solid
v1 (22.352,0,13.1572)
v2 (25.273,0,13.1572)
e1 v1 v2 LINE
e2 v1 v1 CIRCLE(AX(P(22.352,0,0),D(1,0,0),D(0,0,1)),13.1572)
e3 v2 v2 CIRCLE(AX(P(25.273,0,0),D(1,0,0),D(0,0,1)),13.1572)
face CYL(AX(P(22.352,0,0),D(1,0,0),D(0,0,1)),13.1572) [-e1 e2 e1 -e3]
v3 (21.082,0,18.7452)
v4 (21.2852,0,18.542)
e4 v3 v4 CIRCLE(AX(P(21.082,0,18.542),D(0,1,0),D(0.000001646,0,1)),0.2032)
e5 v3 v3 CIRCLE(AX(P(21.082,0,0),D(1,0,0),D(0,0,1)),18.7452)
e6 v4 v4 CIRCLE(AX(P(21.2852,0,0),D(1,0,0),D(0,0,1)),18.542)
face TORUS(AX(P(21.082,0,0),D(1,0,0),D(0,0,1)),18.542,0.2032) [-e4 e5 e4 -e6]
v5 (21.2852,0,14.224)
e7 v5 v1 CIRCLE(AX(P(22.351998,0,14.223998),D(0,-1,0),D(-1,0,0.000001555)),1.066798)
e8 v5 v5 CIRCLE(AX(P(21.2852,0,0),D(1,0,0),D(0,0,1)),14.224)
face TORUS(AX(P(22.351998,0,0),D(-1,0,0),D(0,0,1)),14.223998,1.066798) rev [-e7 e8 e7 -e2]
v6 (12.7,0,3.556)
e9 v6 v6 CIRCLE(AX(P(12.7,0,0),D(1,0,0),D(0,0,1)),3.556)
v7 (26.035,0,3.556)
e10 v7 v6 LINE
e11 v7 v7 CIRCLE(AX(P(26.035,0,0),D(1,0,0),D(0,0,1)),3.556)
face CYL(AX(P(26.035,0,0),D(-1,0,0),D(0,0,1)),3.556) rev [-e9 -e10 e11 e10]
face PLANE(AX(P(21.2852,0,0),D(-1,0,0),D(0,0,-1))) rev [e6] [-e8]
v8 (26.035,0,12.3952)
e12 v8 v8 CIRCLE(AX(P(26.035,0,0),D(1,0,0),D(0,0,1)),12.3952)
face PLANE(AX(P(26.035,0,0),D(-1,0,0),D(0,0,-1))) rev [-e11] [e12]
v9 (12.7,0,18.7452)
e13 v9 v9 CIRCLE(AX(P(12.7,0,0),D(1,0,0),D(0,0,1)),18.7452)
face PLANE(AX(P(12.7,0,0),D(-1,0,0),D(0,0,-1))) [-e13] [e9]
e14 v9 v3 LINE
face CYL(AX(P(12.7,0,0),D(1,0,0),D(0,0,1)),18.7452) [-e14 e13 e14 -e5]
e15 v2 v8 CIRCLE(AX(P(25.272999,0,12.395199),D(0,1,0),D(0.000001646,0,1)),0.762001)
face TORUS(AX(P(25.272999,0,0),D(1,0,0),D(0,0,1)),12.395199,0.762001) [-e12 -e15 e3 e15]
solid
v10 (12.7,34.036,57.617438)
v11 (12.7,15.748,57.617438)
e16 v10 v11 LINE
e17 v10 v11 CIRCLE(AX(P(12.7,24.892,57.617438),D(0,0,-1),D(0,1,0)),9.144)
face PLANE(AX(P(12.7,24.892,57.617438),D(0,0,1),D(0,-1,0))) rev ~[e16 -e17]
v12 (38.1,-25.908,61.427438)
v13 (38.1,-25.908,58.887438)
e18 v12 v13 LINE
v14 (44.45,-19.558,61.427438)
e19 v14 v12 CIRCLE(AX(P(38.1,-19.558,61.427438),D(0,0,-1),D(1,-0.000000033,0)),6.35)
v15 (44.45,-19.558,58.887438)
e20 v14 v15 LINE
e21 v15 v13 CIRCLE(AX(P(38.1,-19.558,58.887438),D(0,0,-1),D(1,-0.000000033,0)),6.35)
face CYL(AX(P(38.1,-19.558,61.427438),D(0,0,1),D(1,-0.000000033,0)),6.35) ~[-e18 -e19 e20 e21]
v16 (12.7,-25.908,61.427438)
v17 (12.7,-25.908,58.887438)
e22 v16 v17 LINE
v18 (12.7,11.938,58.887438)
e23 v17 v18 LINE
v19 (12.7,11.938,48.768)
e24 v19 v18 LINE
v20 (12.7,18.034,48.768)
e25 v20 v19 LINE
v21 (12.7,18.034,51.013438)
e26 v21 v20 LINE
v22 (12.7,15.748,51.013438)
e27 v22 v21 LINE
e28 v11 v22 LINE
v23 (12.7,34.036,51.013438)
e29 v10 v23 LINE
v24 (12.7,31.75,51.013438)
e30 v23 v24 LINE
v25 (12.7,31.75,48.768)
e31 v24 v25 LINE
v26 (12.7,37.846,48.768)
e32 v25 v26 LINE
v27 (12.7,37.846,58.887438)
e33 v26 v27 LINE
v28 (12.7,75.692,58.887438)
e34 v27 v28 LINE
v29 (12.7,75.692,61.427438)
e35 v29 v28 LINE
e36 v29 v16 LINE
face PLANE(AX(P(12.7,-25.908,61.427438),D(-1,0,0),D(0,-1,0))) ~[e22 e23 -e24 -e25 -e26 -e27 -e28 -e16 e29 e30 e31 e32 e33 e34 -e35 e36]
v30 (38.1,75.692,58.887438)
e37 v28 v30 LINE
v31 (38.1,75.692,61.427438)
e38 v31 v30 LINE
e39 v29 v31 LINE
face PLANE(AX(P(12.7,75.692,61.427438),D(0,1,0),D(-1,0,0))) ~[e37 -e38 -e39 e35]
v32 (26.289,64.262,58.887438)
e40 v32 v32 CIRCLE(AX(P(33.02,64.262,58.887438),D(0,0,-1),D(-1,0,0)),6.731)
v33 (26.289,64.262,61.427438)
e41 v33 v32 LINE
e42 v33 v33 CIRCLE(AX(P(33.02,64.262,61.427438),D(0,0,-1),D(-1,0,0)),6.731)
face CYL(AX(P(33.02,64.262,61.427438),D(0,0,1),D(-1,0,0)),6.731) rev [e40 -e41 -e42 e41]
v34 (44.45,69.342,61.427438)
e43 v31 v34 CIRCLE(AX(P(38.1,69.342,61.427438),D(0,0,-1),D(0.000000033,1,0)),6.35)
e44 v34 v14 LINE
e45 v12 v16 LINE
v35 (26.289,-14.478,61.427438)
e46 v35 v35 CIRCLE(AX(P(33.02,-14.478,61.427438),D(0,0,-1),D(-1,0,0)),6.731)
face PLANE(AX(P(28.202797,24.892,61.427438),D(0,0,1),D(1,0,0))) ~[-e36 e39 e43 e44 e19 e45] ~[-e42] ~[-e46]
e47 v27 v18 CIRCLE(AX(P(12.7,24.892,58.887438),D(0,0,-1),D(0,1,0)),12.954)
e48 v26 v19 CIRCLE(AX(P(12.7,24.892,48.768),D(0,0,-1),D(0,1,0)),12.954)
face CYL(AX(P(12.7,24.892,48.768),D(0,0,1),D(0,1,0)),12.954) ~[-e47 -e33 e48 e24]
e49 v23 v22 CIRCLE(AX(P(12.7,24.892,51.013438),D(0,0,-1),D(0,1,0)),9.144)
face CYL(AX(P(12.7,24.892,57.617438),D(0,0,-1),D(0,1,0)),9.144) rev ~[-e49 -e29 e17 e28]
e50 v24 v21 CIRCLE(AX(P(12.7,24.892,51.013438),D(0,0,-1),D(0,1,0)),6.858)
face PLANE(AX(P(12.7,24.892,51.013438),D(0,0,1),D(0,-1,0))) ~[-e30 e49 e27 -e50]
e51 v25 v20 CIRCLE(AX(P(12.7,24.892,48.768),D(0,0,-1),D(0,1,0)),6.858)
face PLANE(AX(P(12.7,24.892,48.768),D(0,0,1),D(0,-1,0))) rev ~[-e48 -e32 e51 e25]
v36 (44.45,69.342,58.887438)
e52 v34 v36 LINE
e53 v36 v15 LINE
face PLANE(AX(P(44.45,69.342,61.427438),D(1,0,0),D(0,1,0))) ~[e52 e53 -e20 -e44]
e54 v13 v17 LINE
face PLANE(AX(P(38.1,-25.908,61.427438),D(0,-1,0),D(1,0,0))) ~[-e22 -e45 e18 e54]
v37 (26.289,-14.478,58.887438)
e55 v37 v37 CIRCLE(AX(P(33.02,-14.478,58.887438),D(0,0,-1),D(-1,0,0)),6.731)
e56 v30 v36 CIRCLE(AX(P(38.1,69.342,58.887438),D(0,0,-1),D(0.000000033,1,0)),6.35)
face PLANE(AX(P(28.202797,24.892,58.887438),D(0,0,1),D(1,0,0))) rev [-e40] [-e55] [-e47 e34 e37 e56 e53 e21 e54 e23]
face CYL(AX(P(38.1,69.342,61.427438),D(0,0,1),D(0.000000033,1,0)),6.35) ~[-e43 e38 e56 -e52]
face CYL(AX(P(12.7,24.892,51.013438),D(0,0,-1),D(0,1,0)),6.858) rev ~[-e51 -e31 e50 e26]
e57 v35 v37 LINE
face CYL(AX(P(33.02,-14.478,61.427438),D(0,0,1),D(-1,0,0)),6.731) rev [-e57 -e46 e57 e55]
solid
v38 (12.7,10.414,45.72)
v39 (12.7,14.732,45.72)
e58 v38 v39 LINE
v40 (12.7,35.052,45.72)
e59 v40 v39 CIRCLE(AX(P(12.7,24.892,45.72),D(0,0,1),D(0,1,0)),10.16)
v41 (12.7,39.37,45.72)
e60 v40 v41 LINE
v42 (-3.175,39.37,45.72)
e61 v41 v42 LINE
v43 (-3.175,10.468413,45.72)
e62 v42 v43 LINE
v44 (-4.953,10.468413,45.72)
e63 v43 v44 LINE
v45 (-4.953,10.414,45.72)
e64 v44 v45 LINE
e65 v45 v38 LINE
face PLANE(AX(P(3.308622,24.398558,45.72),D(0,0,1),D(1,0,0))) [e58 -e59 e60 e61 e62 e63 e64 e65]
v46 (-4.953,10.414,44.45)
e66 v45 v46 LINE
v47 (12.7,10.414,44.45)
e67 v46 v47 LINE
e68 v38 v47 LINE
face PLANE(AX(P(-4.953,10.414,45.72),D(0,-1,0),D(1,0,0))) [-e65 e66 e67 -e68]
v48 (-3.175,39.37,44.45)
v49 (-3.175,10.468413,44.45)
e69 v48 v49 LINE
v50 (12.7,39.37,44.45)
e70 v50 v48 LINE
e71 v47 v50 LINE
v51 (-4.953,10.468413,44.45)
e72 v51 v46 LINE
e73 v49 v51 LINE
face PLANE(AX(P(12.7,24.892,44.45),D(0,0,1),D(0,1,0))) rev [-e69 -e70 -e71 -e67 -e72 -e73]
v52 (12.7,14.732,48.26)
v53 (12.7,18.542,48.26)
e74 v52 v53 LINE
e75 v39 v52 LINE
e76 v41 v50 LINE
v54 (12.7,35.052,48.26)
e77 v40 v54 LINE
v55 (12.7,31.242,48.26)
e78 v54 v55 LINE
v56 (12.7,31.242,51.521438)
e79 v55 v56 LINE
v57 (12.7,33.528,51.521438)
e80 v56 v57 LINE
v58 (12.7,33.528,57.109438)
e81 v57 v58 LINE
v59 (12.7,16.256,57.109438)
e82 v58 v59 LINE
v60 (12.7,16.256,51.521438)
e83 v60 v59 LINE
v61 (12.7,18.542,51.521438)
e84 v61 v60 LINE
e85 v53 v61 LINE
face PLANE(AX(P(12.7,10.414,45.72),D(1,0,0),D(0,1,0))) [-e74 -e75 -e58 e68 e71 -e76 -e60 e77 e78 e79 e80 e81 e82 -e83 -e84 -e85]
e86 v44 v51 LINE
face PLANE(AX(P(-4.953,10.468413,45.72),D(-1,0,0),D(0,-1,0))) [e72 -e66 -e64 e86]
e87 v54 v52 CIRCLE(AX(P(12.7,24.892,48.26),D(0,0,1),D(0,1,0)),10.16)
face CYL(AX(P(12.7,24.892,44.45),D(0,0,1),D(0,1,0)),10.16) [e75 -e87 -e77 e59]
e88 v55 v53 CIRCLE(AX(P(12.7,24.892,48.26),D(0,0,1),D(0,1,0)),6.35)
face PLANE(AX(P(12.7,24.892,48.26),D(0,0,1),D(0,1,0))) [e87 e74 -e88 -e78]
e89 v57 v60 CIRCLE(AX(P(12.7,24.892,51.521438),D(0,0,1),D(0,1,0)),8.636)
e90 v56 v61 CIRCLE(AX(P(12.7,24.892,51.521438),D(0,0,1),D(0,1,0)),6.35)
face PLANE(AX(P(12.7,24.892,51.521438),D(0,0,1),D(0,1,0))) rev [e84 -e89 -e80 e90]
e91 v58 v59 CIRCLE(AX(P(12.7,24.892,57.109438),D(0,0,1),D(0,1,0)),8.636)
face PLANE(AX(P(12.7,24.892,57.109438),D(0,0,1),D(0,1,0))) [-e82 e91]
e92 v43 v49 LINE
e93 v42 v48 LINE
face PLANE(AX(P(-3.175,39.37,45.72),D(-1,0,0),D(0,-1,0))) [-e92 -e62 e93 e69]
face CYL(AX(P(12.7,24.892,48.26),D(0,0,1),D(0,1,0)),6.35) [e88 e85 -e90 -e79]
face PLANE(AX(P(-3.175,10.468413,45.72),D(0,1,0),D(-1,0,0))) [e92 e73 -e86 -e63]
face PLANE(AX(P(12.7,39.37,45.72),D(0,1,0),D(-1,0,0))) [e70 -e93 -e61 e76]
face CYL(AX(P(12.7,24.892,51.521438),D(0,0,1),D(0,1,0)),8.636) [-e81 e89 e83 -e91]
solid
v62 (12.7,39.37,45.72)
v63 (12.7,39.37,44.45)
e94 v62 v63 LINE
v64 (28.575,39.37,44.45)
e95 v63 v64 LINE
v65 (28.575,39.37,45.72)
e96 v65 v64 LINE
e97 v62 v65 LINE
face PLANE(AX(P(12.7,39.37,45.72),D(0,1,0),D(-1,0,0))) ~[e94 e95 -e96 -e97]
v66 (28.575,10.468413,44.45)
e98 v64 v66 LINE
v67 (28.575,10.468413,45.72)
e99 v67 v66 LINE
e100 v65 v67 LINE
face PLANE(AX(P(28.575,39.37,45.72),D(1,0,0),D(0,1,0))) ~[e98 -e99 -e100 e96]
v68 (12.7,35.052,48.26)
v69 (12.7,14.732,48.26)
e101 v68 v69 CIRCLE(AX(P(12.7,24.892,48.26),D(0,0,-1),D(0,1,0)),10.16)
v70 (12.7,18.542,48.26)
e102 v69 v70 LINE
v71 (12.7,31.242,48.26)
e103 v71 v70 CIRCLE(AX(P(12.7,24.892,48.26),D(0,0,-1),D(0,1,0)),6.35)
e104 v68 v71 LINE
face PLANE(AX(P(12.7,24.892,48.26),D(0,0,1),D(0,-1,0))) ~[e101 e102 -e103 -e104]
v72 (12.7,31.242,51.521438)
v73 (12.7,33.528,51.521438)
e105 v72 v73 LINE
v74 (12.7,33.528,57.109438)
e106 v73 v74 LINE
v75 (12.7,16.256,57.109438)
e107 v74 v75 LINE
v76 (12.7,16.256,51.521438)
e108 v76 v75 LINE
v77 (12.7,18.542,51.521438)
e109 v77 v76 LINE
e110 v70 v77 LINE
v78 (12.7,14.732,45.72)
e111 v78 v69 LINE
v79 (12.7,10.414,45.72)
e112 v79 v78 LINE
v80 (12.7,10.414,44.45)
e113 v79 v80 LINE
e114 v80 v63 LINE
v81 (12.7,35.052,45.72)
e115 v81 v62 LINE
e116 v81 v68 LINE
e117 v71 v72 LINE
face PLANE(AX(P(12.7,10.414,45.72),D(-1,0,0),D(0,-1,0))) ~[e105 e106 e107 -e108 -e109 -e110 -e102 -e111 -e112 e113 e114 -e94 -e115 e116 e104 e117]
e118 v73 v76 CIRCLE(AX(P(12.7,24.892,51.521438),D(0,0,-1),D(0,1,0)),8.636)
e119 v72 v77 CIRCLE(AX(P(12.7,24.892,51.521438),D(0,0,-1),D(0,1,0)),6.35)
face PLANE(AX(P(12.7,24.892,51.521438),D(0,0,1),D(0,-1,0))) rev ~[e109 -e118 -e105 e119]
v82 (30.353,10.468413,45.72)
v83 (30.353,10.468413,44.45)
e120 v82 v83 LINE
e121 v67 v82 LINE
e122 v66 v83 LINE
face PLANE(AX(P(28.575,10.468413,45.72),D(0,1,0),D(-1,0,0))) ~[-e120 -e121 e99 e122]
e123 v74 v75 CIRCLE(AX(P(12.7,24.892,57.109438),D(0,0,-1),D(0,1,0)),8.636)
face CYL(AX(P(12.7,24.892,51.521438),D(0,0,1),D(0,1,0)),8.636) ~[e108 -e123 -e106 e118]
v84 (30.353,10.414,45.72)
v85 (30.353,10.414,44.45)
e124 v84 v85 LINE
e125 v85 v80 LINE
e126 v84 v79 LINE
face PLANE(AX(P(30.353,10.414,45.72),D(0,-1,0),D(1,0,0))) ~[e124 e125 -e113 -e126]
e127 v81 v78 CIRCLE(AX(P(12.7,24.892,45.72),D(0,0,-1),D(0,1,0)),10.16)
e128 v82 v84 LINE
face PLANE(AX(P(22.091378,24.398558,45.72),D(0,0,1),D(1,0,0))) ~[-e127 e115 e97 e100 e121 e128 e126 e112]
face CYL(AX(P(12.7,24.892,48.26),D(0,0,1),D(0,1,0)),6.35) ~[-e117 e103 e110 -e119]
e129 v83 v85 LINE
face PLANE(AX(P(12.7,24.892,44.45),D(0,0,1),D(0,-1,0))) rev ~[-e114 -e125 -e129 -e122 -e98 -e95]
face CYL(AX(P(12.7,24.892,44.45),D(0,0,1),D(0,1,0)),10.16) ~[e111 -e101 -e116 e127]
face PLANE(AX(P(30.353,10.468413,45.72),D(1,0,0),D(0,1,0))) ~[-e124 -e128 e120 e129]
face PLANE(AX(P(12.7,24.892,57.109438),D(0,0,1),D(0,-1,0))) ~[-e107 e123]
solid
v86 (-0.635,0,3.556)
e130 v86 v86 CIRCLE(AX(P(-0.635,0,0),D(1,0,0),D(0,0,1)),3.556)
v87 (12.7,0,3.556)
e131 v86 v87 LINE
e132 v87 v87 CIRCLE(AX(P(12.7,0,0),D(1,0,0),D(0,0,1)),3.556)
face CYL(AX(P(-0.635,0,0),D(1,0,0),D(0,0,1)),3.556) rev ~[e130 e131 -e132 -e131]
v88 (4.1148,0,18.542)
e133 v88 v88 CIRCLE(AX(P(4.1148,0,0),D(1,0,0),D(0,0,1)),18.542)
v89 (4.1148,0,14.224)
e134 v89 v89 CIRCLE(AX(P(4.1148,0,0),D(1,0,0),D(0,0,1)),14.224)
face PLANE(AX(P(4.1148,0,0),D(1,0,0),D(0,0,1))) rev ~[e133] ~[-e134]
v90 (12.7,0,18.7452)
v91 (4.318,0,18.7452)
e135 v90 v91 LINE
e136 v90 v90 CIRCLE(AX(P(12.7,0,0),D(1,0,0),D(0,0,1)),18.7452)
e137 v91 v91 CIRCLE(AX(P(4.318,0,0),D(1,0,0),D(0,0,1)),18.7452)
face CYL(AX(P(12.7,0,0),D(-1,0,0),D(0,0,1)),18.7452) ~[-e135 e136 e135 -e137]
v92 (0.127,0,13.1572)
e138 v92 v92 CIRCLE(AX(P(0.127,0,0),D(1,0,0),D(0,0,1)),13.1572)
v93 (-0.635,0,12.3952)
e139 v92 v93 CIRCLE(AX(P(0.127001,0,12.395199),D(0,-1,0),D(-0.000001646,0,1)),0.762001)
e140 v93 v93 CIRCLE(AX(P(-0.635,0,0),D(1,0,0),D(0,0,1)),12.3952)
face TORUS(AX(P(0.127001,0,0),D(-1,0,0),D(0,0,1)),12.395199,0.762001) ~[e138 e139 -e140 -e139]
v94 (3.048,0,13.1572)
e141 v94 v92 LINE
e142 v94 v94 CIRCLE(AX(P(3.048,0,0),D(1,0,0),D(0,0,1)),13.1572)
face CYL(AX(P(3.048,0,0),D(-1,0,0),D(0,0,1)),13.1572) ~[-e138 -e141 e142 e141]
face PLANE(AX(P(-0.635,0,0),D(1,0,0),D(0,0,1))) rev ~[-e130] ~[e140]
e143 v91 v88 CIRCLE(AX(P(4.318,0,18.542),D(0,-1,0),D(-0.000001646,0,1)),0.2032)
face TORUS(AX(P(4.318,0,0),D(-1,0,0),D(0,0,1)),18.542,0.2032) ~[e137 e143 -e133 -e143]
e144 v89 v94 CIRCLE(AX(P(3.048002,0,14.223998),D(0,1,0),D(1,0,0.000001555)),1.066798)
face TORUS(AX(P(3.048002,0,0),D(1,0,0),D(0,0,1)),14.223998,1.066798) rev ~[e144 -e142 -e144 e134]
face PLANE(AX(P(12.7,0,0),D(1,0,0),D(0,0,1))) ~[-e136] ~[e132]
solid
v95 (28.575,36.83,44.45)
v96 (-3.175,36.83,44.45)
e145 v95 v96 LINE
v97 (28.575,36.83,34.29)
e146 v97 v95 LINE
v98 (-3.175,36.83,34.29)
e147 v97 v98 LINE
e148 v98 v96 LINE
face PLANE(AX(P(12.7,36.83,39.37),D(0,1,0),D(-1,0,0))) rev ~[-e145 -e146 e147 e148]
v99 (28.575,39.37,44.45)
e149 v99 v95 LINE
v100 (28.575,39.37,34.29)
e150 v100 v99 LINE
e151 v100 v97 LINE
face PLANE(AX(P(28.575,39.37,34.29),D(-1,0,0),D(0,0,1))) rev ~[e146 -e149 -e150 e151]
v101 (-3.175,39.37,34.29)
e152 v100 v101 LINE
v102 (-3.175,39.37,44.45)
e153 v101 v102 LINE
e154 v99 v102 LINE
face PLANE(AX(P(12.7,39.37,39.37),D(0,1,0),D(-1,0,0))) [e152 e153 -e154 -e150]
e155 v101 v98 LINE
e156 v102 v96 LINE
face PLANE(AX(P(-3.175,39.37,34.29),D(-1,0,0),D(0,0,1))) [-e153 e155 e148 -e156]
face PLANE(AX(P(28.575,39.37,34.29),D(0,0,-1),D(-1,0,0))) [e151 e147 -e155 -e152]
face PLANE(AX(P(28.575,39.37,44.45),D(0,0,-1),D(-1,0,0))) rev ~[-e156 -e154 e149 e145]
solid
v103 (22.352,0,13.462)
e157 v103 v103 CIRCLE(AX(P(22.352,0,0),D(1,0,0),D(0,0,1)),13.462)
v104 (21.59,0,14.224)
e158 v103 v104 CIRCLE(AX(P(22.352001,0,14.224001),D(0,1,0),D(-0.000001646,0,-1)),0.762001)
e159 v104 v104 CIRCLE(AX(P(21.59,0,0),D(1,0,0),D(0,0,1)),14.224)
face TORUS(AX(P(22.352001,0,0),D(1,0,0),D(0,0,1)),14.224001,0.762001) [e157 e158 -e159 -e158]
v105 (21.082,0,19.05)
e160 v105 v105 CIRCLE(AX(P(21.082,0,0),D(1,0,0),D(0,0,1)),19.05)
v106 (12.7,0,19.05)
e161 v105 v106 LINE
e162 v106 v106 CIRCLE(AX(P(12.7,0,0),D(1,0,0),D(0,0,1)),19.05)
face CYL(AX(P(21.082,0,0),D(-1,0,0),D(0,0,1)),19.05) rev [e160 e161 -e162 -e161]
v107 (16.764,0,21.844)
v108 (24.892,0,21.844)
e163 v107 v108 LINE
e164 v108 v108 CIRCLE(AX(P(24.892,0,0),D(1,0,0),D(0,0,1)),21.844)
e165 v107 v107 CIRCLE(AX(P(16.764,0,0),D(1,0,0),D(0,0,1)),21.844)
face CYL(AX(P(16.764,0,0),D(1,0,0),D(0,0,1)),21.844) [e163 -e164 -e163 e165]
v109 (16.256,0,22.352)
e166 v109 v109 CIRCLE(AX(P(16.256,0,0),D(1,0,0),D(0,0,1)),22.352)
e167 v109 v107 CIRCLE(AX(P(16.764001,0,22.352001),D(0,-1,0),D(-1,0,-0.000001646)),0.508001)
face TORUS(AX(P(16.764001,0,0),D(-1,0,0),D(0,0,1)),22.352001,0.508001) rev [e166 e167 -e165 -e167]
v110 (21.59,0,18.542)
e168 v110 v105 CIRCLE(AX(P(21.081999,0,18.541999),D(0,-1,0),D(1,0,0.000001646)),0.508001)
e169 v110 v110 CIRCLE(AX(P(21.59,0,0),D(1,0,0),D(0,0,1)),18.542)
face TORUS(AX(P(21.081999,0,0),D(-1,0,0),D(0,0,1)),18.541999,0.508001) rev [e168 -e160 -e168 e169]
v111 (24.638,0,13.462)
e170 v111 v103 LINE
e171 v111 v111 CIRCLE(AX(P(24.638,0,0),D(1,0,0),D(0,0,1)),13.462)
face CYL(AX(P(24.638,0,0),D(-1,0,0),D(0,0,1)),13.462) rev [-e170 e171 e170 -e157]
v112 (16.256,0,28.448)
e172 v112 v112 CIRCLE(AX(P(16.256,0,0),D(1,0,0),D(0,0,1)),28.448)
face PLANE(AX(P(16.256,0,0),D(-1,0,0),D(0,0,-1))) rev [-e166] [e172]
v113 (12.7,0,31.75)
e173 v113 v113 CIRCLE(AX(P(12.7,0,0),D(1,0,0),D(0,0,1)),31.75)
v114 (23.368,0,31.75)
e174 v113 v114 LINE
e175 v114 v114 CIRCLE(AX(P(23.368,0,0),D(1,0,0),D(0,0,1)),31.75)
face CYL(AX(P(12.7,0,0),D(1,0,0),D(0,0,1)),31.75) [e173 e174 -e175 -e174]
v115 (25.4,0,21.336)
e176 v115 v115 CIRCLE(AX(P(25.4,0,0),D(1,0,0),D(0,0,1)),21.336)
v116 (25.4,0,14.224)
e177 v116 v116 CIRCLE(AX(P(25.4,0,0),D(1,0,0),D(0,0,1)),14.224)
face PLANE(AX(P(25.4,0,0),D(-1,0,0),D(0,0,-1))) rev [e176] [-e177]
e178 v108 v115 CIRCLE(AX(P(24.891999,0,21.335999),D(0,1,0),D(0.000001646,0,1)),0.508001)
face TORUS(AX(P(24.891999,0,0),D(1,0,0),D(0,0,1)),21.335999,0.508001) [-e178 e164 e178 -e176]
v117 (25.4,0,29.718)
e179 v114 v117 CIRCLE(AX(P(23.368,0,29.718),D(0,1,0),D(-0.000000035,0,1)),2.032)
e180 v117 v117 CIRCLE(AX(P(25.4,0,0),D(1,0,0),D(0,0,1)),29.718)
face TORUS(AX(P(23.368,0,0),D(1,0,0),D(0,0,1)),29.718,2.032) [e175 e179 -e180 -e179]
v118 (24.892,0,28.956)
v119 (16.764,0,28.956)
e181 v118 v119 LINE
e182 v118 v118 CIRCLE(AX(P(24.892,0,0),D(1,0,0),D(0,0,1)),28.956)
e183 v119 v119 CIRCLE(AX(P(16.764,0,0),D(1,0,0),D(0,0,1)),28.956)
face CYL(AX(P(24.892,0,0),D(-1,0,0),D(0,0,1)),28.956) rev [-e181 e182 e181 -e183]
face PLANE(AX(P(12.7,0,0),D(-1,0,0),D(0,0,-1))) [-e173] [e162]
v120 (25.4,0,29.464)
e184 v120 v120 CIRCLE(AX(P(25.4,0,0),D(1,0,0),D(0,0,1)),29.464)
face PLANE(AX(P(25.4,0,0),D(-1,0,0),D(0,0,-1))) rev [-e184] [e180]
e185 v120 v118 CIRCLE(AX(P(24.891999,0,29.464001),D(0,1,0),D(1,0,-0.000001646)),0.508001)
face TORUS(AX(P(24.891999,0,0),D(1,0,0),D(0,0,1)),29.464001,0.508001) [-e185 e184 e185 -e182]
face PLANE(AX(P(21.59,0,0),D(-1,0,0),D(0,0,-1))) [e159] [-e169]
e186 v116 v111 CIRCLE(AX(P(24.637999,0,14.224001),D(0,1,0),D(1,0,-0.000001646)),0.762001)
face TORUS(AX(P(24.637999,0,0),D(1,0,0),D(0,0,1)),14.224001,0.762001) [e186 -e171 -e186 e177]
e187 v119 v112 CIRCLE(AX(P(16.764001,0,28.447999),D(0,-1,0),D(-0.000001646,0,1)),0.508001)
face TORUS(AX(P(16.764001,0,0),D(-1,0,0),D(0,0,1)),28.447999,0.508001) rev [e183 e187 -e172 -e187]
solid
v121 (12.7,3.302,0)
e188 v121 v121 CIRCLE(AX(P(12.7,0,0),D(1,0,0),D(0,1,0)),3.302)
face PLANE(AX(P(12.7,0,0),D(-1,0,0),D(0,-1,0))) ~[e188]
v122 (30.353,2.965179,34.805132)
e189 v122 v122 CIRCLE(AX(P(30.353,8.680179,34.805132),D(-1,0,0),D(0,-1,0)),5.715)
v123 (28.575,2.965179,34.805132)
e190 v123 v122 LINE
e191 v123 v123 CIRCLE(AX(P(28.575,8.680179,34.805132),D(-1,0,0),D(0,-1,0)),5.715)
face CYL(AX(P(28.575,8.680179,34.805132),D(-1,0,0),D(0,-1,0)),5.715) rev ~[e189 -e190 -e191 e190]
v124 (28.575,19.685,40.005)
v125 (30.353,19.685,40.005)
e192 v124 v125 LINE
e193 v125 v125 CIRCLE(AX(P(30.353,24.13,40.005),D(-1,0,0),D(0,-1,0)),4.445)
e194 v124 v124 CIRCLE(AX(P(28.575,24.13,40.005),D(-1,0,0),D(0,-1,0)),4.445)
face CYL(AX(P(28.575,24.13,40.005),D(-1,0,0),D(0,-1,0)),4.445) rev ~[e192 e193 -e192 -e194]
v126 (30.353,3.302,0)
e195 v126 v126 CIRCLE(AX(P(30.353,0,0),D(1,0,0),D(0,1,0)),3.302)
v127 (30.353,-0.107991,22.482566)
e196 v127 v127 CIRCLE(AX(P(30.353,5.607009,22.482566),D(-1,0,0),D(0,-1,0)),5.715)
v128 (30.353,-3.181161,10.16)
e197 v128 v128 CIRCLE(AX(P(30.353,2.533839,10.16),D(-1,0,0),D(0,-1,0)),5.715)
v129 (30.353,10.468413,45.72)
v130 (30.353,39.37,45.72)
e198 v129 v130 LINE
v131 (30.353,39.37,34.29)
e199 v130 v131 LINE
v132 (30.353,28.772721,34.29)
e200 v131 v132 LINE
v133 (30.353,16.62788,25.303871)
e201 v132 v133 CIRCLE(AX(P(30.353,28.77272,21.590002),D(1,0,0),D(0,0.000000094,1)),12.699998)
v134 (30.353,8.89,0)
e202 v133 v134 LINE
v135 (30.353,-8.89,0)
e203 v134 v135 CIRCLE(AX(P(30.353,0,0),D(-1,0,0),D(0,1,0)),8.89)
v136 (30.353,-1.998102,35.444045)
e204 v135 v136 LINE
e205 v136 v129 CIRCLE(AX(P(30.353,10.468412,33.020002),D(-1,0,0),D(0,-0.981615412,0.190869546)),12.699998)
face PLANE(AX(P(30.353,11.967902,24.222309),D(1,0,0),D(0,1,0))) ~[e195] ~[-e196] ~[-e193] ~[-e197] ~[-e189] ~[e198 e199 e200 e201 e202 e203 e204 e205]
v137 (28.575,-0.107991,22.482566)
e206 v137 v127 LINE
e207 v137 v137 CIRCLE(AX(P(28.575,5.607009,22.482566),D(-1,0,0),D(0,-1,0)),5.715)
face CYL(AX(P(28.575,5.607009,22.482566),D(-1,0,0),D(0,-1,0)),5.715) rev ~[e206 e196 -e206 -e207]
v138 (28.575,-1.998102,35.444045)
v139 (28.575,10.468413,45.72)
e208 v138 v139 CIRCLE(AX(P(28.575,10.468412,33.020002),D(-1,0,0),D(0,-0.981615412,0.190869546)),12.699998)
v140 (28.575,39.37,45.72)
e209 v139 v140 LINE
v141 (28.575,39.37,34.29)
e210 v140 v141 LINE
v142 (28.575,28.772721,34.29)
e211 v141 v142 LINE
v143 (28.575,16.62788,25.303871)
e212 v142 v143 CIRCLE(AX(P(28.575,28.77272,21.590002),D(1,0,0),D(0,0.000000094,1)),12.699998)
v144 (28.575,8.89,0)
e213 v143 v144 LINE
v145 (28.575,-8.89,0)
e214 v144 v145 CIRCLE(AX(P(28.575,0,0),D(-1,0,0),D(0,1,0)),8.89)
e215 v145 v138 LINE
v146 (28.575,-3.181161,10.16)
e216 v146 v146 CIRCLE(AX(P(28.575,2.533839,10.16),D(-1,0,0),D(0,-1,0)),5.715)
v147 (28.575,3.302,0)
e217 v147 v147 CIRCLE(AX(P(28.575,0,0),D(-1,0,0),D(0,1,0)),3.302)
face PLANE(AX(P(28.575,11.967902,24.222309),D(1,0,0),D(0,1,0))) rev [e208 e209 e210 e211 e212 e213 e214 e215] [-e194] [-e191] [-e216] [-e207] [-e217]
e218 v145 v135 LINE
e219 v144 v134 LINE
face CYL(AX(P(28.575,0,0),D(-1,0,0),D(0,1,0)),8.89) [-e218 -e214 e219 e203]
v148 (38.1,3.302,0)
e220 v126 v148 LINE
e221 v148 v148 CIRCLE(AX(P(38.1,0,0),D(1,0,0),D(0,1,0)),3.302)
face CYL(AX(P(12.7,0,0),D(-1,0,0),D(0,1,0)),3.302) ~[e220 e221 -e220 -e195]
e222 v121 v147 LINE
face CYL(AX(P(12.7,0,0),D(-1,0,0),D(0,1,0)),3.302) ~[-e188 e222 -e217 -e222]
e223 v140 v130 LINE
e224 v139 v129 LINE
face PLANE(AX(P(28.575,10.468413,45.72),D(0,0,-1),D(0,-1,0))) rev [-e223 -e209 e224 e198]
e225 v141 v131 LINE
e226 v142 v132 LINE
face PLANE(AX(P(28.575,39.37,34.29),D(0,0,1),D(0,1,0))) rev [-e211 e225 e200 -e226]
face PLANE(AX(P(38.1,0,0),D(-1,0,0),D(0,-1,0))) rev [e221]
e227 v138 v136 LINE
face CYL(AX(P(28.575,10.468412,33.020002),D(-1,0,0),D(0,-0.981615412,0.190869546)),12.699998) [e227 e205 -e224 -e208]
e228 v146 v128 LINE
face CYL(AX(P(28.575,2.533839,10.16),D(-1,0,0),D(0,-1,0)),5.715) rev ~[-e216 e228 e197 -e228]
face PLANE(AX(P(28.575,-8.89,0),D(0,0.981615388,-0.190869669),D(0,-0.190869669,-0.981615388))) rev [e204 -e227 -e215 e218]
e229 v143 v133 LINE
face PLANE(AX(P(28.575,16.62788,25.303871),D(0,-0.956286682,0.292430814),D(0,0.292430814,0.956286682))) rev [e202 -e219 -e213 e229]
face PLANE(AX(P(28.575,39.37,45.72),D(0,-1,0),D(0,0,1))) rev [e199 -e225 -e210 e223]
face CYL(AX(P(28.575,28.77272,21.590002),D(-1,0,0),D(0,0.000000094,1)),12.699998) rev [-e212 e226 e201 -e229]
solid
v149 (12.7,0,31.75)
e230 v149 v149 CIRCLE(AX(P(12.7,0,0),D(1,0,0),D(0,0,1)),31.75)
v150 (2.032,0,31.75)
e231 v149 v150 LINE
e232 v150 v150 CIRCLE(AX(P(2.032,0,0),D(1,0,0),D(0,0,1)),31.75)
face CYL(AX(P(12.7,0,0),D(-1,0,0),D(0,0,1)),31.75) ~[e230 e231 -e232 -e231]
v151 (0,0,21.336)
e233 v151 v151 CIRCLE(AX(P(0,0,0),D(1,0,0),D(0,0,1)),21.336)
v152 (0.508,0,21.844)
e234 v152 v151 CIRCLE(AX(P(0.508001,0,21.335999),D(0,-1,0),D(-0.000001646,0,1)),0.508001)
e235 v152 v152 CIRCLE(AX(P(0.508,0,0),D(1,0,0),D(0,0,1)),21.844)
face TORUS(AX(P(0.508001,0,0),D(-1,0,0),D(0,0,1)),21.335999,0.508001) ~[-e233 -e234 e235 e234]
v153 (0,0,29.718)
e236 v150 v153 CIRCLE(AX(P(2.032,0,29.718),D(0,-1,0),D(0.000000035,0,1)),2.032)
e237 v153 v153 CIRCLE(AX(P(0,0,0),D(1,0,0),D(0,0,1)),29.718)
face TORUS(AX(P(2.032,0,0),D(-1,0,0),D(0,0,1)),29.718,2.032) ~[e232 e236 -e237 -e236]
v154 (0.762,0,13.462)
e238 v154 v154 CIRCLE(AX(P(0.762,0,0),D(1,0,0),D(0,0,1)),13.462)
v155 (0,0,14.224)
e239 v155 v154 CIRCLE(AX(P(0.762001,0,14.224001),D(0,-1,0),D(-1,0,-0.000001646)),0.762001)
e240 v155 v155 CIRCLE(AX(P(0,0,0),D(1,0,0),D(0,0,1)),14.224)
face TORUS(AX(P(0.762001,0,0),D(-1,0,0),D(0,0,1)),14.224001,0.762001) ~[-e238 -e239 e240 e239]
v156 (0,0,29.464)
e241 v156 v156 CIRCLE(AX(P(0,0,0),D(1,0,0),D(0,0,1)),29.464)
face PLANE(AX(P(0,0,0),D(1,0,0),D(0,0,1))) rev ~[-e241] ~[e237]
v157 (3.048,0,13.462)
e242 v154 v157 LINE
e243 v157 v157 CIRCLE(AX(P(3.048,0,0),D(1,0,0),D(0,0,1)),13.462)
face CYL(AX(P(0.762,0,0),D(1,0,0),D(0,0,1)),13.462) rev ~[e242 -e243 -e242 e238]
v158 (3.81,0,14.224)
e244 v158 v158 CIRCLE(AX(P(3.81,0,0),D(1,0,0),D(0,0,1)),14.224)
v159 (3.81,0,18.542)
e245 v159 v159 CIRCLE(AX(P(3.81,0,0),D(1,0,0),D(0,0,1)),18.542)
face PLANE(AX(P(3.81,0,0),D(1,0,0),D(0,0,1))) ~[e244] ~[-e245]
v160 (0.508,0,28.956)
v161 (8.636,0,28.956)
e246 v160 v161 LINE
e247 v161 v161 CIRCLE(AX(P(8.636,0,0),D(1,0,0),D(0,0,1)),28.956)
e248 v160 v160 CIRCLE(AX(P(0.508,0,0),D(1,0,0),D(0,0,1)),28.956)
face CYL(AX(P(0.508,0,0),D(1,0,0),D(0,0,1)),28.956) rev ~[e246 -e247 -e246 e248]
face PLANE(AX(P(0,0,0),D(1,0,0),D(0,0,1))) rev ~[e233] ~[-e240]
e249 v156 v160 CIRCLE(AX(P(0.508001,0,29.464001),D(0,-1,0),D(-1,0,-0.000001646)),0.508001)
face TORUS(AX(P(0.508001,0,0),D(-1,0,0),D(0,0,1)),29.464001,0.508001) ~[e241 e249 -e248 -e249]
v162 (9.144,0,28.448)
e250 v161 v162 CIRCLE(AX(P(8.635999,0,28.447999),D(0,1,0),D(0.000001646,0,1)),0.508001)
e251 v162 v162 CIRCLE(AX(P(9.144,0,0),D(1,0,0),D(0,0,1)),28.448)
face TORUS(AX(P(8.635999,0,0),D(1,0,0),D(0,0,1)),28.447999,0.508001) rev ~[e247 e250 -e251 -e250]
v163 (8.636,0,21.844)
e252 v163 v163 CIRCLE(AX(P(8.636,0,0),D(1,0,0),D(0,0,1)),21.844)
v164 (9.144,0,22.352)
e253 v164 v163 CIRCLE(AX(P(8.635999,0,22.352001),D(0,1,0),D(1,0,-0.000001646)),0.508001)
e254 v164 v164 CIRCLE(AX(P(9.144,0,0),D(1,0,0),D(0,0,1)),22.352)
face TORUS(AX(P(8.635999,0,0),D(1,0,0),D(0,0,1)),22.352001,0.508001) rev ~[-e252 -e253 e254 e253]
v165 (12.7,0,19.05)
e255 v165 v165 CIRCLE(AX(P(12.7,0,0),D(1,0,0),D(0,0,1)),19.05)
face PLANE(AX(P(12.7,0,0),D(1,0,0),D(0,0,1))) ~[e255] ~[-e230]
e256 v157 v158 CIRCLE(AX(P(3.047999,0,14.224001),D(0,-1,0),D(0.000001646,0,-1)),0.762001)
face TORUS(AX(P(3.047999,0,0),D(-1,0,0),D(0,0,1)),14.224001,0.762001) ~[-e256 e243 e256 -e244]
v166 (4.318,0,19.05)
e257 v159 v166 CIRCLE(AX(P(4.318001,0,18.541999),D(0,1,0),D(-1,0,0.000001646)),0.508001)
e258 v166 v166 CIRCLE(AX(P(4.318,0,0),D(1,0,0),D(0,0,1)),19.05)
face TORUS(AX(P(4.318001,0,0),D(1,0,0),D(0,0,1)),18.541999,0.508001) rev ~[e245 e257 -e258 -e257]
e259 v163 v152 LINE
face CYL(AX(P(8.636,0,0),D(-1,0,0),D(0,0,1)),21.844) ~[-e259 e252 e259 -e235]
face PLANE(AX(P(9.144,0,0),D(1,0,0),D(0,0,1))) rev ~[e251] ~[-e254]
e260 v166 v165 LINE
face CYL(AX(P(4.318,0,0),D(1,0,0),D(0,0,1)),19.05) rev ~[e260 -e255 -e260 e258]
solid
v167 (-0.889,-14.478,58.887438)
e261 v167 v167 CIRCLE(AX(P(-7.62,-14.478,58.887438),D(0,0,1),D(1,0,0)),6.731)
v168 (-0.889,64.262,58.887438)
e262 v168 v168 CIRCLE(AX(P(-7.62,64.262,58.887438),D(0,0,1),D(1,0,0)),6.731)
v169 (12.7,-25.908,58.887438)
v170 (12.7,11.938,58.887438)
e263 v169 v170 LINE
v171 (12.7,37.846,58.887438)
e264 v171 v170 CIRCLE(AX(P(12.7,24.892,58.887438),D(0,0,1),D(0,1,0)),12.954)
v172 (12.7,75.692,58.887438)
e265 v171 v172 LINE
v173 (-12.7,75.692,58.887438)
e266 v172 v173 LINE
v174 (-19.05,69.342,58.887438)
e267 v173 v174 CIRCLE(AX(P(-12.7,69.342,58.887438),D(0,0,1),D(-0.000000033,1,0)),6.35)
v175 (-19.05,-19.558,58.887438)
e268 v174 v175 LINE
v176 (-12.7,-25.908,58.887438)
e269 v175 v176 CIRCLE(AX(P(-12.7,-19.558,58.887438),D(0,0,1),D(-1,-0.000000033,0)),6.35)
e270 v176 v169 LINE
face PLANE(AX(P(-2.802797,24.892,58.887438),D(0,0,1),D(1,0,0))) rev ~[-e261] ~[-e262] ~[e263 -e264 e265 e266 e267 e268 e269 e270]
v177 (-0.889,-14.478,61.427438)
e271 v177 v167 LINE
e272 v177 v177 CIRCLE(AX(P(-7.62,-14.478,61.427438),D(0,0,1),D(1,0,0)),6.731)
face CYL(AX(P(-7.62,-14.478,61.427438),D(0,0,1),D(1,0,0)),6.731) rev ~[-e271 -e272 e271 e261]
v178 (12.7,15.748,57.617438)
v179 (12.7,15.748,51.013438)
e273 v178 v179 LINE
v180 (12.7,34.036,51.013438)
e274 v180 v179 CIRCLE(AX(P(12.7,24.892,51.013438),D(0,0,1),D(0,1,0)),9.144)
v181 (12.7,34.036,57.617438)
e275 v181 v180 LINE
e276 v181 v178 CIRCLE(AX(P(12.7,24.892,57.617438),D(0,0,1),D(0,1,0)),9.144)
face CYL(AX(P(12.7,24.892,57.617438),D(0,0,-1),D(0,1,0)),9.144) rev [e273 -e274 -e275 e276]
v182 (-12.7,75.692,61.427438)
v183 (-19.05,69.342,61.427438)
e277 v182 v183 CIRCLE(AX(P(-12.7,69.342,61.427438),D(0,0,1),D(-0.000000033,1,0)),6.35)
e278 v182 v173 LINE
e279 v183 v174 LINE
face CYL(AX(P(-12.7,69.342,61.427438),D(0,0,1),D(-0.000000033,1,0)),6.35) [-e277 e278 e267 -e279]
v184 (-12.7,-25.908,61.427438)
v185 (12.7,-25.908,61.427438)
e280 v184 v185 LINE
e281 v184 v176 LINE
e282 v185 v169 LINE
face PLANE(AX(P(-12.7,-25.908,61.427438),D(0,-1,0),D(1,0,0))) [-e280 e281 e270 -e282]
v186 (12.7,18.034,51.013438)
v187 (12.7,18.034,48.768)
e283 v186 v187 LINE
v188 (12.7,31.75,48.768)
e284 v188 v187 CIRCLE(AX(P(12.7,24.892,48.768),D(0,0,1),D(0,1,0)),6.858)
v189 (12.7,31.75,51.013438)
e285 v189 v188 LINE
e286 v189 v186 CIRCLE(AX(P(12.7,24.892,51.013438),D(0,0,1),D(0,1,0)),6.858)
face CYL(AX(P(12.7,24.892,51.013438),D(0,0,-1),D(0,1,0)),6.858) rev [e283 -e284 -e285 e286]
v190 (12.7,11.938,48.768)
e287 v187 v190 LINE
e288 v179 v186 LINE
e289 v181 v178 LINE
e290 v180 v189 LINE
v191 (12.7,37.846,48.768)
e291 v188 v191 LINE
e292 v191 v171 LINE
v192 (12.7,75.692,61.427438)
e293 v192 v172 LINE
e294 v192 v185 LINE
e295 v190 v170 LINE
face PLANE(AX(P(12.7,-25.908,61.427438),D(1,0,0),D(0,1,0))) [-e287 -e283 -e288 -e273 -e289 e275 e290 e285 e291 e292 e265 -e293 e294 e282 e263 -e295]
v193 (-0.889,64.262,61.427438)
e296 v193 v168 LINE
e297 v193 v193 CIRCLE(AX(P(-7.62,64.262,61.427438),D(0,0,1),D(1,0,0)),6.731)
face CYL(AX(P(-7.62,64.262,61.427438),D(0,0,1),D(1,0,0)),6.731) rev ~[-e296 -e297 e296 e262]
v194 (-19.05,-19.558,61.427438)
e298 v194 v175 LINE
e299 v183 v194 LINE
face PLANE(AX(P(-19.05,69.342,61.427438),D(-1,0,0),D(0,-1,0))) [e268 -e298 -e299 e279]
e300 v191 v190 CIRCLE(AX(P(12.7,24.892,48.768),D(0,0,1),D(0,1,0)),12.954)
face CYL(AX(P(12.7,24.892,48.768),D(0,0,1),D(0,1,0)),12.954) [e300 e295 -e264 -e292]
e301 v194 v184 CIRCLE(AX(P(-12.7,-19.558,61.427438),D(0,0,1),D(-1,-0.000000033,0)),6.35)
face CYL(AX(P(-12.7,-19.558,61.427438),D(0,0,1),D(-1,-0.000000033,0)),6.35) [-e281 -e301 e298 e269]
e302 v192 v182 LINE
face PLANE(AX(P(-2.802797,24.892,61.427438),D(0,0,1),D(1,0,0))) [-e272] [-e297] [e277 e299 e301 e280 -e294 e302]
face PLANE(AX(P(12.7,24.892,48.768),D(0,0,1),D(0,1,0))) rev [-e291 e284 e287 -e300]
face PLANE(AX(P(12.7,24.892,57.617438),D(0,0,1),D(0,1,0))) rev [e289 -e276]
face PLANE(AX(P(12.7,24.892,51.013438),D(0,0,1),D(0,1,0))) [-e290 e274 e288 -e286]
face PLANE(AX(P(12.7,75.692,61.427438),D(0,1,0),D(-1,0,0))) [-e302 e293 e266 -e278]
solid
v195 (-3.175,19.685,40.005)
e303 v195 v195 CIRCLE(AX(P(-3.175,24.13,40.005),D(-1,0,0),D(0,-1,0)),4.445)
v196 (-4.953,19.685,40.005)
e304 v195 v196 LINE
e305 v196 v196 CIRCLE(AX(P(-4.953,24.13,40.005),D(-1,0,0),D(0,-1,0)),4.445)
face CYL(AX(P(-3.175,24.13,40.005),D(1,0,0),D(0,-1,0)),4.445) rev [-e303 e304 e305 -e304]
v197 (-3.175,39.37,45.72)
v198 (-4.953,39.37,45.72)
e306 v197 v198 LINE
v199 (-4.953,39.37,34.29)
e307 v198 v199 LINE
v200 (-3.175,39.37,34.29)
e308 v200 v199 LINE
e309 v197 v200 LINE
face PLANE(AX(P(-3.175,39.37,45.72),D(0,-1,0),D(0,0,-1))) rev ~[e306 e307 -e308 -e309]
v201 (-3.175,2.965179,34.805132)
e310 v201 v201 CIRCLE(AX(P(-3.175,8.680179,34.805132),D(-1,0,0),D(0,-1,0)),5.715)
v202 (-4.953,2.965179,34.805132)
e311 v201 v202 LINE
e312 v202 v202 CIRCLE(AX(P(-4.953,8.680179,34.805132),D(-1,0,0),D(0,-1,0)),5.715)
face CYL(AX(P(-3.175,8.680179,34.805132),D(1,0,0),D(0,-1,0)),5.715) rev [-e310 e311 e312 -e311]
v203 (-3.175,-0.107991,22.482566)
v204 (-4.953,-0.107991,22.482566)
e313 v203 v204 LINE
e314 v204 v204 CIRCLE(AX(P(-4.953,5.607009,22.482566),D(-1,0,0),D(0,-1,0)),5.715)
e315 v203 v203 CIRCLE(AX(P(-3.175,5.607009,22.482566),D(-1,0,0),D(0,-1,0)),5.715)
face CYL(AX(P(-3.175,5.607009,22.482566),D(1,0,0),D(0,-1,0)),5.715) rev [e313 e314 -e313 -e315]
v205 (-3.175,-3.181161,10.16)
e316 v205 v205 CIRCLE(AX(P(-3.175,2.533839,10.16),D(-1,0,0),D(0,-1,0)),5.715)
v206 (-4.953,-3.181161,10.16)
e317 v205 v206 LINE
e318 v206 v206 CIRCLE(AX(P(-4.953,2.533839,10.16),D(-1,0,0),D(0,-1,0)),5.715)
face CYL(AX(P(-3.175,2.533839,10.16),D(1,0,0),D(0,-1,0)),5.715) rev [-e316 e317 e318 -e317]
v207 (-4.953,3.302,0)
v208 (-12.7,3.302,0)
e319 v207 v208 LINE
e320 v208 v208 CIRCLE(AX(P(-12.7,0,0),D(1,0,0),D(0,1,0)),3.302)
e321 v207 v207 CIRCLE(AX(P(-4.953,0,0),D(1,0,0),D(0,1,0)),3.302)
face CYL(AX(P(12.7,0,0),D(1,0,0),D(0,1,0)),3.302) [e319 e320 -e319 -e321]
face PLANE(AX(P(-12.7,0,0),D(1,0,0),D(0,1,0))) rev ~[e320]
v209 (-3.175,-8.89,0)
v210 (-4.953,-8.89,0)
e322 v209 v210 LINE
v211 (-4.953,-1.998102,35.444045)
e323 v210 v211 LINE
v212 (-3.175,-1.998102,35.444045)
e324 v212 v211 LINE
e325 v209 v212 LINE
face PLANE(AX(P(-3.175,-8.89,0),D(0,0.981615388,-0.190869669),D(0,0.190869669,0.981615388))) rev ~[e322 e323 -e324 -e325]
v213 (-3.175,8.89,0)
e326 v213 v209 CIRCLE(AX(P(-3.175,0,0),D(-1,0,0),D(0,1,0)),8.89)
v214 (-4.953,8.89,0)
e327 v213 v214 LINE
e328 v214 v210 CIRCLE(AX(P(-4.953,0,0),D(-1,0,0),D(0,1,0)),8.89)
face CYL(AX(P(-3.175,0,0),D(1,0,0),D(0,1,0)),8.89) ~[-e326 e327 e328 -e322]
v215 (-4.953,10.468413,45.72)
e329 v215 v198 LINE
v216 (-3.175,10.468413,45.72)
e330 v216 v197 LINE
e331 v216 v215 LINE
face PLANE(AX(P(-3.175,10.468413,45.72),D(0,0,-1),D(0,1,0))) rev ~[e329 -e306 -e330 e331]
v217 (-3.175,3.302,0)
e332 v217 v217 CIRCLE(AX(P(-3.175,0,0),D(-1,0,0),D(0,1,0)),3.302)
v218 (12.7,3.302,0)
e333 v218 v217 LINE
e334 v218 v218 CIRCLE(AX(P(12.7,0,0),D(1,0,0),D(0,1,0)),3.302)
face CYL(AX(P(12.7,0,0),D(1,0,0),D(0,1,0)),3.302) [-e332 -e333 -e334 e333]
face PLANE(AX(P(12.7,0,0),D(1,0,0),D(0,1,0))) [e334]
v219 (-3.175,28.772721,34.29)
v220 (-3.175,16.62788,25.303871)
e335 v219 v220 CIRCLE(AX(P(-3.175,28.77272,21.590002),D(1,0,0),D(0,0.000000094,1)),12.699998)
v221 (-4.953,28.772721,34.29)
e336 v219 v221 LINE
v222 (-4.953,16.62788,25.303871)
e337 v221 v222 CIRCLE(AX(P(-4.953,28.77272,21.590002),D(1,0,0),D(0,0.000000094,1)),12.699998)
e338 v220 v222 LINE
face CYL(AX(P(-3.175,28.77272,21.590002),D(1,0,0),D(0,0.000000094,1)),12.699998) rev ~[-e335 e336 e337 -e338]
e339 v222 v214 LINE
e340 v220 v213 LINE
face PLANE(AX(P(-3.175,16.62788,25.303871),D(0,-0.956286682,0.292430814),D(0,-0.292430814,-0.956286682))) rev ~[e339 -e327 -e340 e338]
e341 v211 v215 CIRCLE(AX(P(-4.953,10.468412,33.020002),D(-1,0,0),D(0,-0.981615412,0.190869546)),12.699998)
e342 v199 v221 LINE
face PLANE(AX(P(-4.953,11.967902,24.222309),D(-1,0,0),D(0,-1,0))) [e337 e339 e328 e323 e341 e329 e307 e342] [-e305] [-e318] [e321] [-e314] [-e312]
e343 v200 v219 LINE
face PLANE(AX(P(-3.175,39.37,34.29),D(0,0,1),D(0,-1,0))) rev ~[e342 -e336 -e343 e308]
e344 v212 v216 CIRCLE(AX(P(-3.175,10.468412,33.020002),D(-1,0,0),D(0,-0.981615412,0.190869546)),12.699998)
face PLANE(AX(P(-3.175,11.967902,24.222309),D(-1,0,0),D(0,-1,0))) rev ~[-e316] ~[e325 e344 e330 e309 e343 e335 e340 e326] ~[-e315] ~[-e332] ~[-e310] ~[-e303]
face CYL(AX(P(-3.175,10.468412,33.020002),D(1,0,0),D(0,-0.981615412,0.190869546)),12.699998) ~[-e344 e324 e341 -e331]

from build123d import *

# Parameters (mm, degrees)
F3_R      = 3.302
F4_DEPTH  = 25.4
F5_R      = 3.302
F5_R_2    = 5.715
F5_R_3    = 4.445
F6_DEPTH  = 1.778
F8_DEPTH  = 1.27
F10_ANGLE = -180
F11_R     = 6.731
F12_DEPTH = 2.54
F14_W     = 31.75
F14_H     = 10.16
F15_DEPTH = 2.54


with BuildPart() as f1:
    # F0 (on Front) → F1 (revolve)
    with BuildSketch(Plane.XZ):
        with BuildLine():
            Line((12.7, 31.75), (2.032, 31.75))
            ThreePointArc((2.032, 31.75), (0.595159, 31.154841), (0, 29.718))
            Line((0, 29.718), (0, 29.464))
            ThreePointArc((0, 29.464), (0.14879, 29.10479), (0.508, 28.956))
            Line((0.508, 28.956), (8.636, 28.956))
            ThreePointArc((8.636, 28.956), (8.99521, 28.80721), (9.144, 28.448))
            Line((9.144, 28.448), (9.144, 22.352))
            ThreePointArc((9.144, 22.352), (8.99521, 21.99279), (8.636, 21.844))
            Line((8.636, 21.844), (0.508, 21.844))
            ThreePointArc((0.508, 21.844), (0.14879, 21.69521), (0, 21.336))
            Line((0, 21.336), (0, 14.224))
            ThreePointArc((0, 14.224), (0.223185, 13.685185), (0.762, 13.462))
            Line((0.762, 13.462), (3.048, 13.462))
            ThreePointArc((3.048, 13.462), (3.586815, 13.685185), (3.81, 14.224))
            Line((3.81, 14.224), (3.81, 18.542))
            ThreePointArc((3.81, 18.542), (3.95879, 18.90121), (4.318, 19.05))
            Line((4.318, 19.05), (12.7, 19.05))
            Line((12.7, 19.05), (12.7, 31.75))
        make_face()
        with BuildLine():
            Line((12.7, 18.7452), (4.318, 18.7452))
            ThreePointArc((4.318, 18.7452), (4.174316, 18.685684), (4.1148, 18.542))
            Line((4.1148, 18.542), (4.1148, 14.224))
            ThreePointArc((4.1148, 14.224), (3.802342, 13.469658), (3.048, 13.1572))
            Line((3.048, 13.1572), (0.127, 13.1572))
            ThreePointArc((0.127, 13.1572), (-0.411815, 12.934015), (-0.635, 12.3952))
            Line((-0.635, 12.3952), (-0.635, 3.556))
            Line((-0.635, 3.556), (12.7, 3.556))
            Line((12.7, 3.556), (12.7, 18.7452))
        make_face()
    revolve(axis=Axis((18.041069, 0, 0), (1, 0, 0)))


with BuildPart() as f4:
    # F3 (on face) → F4 (new body)
    with BuildSketch(Plane.YZ.offset(12.7)):
        Circle(F3_R)
    extrude(amount=-F4_DEPTH)

    # F5 (on offset) → F6 (join)
    with BuildSketch(Plane(origin=(-3.175, 0, 0), x_dir=(0, -1, 0), z_dir=(-1, 0, 0))):
        with BuildLine():
            Line((-16.62788, 25.303871), (-8.89, 0))
            ThreePointArc((-8.89, 0), (0, -8.89), (8.89, 0))
            Line((8.89, 0), (1.998102, 35.444045))
            ThreePointArc((1.998102, 35.444045), (-2.390522, 42.819882), (-10.468413, 45.72))
            Line((-10.468413, 45.72), (-39.37, 45.72))
            Line((-39.37, 45.72), (-39.37, 34.29))
            Line((-39.37, 34.29), (-28.772721, 34.29))
            ThreePointArc((-28.772721, 34.29), (-21.218787, 31.799216), (-16.62788, 25.303871))
        make_face()
        Circle(F5_R, mode=Mode.SUBTRACT)
        with Locations((-2.533839, 10.16)):
            Circle(F5_R_2, mode=Mode.SUBTRACT)
        with Locations((-24.13, 40.005)):
            Circle(F5_R_3, mode=Mode.SUBTRACT)
        with Locations((-5.607009, 22.482566)):
            Circle(F5_R_2, mode=Mode.SUBTRACT)
        with Locations((-8.680179, 34.805132)):
            Circle(F5_R_2, mode=Mode.SUBTRACT)
    extrude(amount=F6_DEPTH)


with BuildPart() as f8:
    # F7 (on face) → F8 (new body)
    with BuildSketch(Plane.XY.offset(45.72)):
        with BuildLine():
            Line((12.7, 39.37), (-3.175, 39.37))
            Line((-3.175, 39.37), (-3.175, 10.468413))
            Line((-3.175, 10.468413), (-4.953, 10.468413))
            Line((-4.953, 10.468413), (-4.953, 10.414))
            Line((-4.953, 10.414), (12.7, 10.414))
            Line((12.7, 10.414), (12.7, 13.97))
            ThreePointArc((12.7, 13.97), (1.778, 24.892), (12.7, 35.814))
            Line((12.7, 35.814), (12.7, 39.37))
        make_face()
        with BuildLine():
            Line((12.7, 13.97), (12.7, 35.814))
            ThreePointArc((12.7, 35.814), (1.778, 24.892), (12.7, 13.97))
        make_face()
    extrude(amount=-F8_DEPTH)

    # F9 (on face) → F10 (revolve)
    with BuildSketch(Plane.YZ.offset(12.7)):
        Polygon((24.892, 57.109438), (24.892, 44.45), (35.052, 44.45), (35.052, 48.26), (31.242, 48.26), (31.242, 51.521438), (33.528, 51.521438), (33.528, 57.109438), align=None)
        Polygon((31.75, 48.768), (37.846, 48.768), (37.846, 61.427438), (24.892, 61.427438), (24.892, 57.617438), (34.036, 57.617438), (34.036, 51.013438), (31.75, 51.013438), align=None)
    revolve(axis=Axis((12.7, 24.892, 52.938719), (0, 0, -1)), revolution_arc=F10_ANGLE)

    # F11 (on face) → F12 (join)
    with BuildSketch(Plane.XY.offset(61.427438)):
        with BuildLine():
            Line((12.7, -25.908), (12.7, 75.692))
            Line((12.7, 75.692), (-12.7, 75.692))
            ThreePointArc((-12.7, 75.692), (-17.190128, 73.832128), (-19.05, 69.342))
            Line((-19.05, 69.342), (-19.05, -19.558))
            ThreePointArc((-19.05, -19.558), (-17.190128, -24.048128), (-12.7, -25.908))
            Line((-12.7, -25.908), (12.7, -25.908))
        make_face()
        with Locations((-7.62, -14.478)):
            Circle(F11_R, mode=Mode.SUBTRACT)
        with Locations((-7.62, 64.262)):
            Circle(F11_R, mode=Mode.SUBTRACT)
    extrude(amount=-F12_DEPTH)


with BuildPart() as f13_1:
    # F13: instance of F8
    add(f8.part.mirror(Plane.YZ.offset(12.7)))


with BuildPart() as f13_2:
    # F13: instance of F1
    add(f1.part.mirror(Plane.YZ.offset(12.7)))


with BuildPart() as f13_3:
    # F13: instance of F4
    add(f4.part.mirror(Plane.YZ.offset(12.7)))


with BuildPart() as f15:
    # F14 (on face) → F15 (new body)
    with BuildSketch(Plane(origin=(0, 39.37, 0), x_dir=(-1, 0, 0), z_dir=(0, 1, 0))):
        with Locations((-12.7, 39.37)):
            Rectangle(F14_W, F14_H)
    extrude(amount=-F15_DEPTH)


solid = Compound([f1.part, f4.part, f8.part, f13_1.part, f13_2.part, f13_3.part, f15.part])
